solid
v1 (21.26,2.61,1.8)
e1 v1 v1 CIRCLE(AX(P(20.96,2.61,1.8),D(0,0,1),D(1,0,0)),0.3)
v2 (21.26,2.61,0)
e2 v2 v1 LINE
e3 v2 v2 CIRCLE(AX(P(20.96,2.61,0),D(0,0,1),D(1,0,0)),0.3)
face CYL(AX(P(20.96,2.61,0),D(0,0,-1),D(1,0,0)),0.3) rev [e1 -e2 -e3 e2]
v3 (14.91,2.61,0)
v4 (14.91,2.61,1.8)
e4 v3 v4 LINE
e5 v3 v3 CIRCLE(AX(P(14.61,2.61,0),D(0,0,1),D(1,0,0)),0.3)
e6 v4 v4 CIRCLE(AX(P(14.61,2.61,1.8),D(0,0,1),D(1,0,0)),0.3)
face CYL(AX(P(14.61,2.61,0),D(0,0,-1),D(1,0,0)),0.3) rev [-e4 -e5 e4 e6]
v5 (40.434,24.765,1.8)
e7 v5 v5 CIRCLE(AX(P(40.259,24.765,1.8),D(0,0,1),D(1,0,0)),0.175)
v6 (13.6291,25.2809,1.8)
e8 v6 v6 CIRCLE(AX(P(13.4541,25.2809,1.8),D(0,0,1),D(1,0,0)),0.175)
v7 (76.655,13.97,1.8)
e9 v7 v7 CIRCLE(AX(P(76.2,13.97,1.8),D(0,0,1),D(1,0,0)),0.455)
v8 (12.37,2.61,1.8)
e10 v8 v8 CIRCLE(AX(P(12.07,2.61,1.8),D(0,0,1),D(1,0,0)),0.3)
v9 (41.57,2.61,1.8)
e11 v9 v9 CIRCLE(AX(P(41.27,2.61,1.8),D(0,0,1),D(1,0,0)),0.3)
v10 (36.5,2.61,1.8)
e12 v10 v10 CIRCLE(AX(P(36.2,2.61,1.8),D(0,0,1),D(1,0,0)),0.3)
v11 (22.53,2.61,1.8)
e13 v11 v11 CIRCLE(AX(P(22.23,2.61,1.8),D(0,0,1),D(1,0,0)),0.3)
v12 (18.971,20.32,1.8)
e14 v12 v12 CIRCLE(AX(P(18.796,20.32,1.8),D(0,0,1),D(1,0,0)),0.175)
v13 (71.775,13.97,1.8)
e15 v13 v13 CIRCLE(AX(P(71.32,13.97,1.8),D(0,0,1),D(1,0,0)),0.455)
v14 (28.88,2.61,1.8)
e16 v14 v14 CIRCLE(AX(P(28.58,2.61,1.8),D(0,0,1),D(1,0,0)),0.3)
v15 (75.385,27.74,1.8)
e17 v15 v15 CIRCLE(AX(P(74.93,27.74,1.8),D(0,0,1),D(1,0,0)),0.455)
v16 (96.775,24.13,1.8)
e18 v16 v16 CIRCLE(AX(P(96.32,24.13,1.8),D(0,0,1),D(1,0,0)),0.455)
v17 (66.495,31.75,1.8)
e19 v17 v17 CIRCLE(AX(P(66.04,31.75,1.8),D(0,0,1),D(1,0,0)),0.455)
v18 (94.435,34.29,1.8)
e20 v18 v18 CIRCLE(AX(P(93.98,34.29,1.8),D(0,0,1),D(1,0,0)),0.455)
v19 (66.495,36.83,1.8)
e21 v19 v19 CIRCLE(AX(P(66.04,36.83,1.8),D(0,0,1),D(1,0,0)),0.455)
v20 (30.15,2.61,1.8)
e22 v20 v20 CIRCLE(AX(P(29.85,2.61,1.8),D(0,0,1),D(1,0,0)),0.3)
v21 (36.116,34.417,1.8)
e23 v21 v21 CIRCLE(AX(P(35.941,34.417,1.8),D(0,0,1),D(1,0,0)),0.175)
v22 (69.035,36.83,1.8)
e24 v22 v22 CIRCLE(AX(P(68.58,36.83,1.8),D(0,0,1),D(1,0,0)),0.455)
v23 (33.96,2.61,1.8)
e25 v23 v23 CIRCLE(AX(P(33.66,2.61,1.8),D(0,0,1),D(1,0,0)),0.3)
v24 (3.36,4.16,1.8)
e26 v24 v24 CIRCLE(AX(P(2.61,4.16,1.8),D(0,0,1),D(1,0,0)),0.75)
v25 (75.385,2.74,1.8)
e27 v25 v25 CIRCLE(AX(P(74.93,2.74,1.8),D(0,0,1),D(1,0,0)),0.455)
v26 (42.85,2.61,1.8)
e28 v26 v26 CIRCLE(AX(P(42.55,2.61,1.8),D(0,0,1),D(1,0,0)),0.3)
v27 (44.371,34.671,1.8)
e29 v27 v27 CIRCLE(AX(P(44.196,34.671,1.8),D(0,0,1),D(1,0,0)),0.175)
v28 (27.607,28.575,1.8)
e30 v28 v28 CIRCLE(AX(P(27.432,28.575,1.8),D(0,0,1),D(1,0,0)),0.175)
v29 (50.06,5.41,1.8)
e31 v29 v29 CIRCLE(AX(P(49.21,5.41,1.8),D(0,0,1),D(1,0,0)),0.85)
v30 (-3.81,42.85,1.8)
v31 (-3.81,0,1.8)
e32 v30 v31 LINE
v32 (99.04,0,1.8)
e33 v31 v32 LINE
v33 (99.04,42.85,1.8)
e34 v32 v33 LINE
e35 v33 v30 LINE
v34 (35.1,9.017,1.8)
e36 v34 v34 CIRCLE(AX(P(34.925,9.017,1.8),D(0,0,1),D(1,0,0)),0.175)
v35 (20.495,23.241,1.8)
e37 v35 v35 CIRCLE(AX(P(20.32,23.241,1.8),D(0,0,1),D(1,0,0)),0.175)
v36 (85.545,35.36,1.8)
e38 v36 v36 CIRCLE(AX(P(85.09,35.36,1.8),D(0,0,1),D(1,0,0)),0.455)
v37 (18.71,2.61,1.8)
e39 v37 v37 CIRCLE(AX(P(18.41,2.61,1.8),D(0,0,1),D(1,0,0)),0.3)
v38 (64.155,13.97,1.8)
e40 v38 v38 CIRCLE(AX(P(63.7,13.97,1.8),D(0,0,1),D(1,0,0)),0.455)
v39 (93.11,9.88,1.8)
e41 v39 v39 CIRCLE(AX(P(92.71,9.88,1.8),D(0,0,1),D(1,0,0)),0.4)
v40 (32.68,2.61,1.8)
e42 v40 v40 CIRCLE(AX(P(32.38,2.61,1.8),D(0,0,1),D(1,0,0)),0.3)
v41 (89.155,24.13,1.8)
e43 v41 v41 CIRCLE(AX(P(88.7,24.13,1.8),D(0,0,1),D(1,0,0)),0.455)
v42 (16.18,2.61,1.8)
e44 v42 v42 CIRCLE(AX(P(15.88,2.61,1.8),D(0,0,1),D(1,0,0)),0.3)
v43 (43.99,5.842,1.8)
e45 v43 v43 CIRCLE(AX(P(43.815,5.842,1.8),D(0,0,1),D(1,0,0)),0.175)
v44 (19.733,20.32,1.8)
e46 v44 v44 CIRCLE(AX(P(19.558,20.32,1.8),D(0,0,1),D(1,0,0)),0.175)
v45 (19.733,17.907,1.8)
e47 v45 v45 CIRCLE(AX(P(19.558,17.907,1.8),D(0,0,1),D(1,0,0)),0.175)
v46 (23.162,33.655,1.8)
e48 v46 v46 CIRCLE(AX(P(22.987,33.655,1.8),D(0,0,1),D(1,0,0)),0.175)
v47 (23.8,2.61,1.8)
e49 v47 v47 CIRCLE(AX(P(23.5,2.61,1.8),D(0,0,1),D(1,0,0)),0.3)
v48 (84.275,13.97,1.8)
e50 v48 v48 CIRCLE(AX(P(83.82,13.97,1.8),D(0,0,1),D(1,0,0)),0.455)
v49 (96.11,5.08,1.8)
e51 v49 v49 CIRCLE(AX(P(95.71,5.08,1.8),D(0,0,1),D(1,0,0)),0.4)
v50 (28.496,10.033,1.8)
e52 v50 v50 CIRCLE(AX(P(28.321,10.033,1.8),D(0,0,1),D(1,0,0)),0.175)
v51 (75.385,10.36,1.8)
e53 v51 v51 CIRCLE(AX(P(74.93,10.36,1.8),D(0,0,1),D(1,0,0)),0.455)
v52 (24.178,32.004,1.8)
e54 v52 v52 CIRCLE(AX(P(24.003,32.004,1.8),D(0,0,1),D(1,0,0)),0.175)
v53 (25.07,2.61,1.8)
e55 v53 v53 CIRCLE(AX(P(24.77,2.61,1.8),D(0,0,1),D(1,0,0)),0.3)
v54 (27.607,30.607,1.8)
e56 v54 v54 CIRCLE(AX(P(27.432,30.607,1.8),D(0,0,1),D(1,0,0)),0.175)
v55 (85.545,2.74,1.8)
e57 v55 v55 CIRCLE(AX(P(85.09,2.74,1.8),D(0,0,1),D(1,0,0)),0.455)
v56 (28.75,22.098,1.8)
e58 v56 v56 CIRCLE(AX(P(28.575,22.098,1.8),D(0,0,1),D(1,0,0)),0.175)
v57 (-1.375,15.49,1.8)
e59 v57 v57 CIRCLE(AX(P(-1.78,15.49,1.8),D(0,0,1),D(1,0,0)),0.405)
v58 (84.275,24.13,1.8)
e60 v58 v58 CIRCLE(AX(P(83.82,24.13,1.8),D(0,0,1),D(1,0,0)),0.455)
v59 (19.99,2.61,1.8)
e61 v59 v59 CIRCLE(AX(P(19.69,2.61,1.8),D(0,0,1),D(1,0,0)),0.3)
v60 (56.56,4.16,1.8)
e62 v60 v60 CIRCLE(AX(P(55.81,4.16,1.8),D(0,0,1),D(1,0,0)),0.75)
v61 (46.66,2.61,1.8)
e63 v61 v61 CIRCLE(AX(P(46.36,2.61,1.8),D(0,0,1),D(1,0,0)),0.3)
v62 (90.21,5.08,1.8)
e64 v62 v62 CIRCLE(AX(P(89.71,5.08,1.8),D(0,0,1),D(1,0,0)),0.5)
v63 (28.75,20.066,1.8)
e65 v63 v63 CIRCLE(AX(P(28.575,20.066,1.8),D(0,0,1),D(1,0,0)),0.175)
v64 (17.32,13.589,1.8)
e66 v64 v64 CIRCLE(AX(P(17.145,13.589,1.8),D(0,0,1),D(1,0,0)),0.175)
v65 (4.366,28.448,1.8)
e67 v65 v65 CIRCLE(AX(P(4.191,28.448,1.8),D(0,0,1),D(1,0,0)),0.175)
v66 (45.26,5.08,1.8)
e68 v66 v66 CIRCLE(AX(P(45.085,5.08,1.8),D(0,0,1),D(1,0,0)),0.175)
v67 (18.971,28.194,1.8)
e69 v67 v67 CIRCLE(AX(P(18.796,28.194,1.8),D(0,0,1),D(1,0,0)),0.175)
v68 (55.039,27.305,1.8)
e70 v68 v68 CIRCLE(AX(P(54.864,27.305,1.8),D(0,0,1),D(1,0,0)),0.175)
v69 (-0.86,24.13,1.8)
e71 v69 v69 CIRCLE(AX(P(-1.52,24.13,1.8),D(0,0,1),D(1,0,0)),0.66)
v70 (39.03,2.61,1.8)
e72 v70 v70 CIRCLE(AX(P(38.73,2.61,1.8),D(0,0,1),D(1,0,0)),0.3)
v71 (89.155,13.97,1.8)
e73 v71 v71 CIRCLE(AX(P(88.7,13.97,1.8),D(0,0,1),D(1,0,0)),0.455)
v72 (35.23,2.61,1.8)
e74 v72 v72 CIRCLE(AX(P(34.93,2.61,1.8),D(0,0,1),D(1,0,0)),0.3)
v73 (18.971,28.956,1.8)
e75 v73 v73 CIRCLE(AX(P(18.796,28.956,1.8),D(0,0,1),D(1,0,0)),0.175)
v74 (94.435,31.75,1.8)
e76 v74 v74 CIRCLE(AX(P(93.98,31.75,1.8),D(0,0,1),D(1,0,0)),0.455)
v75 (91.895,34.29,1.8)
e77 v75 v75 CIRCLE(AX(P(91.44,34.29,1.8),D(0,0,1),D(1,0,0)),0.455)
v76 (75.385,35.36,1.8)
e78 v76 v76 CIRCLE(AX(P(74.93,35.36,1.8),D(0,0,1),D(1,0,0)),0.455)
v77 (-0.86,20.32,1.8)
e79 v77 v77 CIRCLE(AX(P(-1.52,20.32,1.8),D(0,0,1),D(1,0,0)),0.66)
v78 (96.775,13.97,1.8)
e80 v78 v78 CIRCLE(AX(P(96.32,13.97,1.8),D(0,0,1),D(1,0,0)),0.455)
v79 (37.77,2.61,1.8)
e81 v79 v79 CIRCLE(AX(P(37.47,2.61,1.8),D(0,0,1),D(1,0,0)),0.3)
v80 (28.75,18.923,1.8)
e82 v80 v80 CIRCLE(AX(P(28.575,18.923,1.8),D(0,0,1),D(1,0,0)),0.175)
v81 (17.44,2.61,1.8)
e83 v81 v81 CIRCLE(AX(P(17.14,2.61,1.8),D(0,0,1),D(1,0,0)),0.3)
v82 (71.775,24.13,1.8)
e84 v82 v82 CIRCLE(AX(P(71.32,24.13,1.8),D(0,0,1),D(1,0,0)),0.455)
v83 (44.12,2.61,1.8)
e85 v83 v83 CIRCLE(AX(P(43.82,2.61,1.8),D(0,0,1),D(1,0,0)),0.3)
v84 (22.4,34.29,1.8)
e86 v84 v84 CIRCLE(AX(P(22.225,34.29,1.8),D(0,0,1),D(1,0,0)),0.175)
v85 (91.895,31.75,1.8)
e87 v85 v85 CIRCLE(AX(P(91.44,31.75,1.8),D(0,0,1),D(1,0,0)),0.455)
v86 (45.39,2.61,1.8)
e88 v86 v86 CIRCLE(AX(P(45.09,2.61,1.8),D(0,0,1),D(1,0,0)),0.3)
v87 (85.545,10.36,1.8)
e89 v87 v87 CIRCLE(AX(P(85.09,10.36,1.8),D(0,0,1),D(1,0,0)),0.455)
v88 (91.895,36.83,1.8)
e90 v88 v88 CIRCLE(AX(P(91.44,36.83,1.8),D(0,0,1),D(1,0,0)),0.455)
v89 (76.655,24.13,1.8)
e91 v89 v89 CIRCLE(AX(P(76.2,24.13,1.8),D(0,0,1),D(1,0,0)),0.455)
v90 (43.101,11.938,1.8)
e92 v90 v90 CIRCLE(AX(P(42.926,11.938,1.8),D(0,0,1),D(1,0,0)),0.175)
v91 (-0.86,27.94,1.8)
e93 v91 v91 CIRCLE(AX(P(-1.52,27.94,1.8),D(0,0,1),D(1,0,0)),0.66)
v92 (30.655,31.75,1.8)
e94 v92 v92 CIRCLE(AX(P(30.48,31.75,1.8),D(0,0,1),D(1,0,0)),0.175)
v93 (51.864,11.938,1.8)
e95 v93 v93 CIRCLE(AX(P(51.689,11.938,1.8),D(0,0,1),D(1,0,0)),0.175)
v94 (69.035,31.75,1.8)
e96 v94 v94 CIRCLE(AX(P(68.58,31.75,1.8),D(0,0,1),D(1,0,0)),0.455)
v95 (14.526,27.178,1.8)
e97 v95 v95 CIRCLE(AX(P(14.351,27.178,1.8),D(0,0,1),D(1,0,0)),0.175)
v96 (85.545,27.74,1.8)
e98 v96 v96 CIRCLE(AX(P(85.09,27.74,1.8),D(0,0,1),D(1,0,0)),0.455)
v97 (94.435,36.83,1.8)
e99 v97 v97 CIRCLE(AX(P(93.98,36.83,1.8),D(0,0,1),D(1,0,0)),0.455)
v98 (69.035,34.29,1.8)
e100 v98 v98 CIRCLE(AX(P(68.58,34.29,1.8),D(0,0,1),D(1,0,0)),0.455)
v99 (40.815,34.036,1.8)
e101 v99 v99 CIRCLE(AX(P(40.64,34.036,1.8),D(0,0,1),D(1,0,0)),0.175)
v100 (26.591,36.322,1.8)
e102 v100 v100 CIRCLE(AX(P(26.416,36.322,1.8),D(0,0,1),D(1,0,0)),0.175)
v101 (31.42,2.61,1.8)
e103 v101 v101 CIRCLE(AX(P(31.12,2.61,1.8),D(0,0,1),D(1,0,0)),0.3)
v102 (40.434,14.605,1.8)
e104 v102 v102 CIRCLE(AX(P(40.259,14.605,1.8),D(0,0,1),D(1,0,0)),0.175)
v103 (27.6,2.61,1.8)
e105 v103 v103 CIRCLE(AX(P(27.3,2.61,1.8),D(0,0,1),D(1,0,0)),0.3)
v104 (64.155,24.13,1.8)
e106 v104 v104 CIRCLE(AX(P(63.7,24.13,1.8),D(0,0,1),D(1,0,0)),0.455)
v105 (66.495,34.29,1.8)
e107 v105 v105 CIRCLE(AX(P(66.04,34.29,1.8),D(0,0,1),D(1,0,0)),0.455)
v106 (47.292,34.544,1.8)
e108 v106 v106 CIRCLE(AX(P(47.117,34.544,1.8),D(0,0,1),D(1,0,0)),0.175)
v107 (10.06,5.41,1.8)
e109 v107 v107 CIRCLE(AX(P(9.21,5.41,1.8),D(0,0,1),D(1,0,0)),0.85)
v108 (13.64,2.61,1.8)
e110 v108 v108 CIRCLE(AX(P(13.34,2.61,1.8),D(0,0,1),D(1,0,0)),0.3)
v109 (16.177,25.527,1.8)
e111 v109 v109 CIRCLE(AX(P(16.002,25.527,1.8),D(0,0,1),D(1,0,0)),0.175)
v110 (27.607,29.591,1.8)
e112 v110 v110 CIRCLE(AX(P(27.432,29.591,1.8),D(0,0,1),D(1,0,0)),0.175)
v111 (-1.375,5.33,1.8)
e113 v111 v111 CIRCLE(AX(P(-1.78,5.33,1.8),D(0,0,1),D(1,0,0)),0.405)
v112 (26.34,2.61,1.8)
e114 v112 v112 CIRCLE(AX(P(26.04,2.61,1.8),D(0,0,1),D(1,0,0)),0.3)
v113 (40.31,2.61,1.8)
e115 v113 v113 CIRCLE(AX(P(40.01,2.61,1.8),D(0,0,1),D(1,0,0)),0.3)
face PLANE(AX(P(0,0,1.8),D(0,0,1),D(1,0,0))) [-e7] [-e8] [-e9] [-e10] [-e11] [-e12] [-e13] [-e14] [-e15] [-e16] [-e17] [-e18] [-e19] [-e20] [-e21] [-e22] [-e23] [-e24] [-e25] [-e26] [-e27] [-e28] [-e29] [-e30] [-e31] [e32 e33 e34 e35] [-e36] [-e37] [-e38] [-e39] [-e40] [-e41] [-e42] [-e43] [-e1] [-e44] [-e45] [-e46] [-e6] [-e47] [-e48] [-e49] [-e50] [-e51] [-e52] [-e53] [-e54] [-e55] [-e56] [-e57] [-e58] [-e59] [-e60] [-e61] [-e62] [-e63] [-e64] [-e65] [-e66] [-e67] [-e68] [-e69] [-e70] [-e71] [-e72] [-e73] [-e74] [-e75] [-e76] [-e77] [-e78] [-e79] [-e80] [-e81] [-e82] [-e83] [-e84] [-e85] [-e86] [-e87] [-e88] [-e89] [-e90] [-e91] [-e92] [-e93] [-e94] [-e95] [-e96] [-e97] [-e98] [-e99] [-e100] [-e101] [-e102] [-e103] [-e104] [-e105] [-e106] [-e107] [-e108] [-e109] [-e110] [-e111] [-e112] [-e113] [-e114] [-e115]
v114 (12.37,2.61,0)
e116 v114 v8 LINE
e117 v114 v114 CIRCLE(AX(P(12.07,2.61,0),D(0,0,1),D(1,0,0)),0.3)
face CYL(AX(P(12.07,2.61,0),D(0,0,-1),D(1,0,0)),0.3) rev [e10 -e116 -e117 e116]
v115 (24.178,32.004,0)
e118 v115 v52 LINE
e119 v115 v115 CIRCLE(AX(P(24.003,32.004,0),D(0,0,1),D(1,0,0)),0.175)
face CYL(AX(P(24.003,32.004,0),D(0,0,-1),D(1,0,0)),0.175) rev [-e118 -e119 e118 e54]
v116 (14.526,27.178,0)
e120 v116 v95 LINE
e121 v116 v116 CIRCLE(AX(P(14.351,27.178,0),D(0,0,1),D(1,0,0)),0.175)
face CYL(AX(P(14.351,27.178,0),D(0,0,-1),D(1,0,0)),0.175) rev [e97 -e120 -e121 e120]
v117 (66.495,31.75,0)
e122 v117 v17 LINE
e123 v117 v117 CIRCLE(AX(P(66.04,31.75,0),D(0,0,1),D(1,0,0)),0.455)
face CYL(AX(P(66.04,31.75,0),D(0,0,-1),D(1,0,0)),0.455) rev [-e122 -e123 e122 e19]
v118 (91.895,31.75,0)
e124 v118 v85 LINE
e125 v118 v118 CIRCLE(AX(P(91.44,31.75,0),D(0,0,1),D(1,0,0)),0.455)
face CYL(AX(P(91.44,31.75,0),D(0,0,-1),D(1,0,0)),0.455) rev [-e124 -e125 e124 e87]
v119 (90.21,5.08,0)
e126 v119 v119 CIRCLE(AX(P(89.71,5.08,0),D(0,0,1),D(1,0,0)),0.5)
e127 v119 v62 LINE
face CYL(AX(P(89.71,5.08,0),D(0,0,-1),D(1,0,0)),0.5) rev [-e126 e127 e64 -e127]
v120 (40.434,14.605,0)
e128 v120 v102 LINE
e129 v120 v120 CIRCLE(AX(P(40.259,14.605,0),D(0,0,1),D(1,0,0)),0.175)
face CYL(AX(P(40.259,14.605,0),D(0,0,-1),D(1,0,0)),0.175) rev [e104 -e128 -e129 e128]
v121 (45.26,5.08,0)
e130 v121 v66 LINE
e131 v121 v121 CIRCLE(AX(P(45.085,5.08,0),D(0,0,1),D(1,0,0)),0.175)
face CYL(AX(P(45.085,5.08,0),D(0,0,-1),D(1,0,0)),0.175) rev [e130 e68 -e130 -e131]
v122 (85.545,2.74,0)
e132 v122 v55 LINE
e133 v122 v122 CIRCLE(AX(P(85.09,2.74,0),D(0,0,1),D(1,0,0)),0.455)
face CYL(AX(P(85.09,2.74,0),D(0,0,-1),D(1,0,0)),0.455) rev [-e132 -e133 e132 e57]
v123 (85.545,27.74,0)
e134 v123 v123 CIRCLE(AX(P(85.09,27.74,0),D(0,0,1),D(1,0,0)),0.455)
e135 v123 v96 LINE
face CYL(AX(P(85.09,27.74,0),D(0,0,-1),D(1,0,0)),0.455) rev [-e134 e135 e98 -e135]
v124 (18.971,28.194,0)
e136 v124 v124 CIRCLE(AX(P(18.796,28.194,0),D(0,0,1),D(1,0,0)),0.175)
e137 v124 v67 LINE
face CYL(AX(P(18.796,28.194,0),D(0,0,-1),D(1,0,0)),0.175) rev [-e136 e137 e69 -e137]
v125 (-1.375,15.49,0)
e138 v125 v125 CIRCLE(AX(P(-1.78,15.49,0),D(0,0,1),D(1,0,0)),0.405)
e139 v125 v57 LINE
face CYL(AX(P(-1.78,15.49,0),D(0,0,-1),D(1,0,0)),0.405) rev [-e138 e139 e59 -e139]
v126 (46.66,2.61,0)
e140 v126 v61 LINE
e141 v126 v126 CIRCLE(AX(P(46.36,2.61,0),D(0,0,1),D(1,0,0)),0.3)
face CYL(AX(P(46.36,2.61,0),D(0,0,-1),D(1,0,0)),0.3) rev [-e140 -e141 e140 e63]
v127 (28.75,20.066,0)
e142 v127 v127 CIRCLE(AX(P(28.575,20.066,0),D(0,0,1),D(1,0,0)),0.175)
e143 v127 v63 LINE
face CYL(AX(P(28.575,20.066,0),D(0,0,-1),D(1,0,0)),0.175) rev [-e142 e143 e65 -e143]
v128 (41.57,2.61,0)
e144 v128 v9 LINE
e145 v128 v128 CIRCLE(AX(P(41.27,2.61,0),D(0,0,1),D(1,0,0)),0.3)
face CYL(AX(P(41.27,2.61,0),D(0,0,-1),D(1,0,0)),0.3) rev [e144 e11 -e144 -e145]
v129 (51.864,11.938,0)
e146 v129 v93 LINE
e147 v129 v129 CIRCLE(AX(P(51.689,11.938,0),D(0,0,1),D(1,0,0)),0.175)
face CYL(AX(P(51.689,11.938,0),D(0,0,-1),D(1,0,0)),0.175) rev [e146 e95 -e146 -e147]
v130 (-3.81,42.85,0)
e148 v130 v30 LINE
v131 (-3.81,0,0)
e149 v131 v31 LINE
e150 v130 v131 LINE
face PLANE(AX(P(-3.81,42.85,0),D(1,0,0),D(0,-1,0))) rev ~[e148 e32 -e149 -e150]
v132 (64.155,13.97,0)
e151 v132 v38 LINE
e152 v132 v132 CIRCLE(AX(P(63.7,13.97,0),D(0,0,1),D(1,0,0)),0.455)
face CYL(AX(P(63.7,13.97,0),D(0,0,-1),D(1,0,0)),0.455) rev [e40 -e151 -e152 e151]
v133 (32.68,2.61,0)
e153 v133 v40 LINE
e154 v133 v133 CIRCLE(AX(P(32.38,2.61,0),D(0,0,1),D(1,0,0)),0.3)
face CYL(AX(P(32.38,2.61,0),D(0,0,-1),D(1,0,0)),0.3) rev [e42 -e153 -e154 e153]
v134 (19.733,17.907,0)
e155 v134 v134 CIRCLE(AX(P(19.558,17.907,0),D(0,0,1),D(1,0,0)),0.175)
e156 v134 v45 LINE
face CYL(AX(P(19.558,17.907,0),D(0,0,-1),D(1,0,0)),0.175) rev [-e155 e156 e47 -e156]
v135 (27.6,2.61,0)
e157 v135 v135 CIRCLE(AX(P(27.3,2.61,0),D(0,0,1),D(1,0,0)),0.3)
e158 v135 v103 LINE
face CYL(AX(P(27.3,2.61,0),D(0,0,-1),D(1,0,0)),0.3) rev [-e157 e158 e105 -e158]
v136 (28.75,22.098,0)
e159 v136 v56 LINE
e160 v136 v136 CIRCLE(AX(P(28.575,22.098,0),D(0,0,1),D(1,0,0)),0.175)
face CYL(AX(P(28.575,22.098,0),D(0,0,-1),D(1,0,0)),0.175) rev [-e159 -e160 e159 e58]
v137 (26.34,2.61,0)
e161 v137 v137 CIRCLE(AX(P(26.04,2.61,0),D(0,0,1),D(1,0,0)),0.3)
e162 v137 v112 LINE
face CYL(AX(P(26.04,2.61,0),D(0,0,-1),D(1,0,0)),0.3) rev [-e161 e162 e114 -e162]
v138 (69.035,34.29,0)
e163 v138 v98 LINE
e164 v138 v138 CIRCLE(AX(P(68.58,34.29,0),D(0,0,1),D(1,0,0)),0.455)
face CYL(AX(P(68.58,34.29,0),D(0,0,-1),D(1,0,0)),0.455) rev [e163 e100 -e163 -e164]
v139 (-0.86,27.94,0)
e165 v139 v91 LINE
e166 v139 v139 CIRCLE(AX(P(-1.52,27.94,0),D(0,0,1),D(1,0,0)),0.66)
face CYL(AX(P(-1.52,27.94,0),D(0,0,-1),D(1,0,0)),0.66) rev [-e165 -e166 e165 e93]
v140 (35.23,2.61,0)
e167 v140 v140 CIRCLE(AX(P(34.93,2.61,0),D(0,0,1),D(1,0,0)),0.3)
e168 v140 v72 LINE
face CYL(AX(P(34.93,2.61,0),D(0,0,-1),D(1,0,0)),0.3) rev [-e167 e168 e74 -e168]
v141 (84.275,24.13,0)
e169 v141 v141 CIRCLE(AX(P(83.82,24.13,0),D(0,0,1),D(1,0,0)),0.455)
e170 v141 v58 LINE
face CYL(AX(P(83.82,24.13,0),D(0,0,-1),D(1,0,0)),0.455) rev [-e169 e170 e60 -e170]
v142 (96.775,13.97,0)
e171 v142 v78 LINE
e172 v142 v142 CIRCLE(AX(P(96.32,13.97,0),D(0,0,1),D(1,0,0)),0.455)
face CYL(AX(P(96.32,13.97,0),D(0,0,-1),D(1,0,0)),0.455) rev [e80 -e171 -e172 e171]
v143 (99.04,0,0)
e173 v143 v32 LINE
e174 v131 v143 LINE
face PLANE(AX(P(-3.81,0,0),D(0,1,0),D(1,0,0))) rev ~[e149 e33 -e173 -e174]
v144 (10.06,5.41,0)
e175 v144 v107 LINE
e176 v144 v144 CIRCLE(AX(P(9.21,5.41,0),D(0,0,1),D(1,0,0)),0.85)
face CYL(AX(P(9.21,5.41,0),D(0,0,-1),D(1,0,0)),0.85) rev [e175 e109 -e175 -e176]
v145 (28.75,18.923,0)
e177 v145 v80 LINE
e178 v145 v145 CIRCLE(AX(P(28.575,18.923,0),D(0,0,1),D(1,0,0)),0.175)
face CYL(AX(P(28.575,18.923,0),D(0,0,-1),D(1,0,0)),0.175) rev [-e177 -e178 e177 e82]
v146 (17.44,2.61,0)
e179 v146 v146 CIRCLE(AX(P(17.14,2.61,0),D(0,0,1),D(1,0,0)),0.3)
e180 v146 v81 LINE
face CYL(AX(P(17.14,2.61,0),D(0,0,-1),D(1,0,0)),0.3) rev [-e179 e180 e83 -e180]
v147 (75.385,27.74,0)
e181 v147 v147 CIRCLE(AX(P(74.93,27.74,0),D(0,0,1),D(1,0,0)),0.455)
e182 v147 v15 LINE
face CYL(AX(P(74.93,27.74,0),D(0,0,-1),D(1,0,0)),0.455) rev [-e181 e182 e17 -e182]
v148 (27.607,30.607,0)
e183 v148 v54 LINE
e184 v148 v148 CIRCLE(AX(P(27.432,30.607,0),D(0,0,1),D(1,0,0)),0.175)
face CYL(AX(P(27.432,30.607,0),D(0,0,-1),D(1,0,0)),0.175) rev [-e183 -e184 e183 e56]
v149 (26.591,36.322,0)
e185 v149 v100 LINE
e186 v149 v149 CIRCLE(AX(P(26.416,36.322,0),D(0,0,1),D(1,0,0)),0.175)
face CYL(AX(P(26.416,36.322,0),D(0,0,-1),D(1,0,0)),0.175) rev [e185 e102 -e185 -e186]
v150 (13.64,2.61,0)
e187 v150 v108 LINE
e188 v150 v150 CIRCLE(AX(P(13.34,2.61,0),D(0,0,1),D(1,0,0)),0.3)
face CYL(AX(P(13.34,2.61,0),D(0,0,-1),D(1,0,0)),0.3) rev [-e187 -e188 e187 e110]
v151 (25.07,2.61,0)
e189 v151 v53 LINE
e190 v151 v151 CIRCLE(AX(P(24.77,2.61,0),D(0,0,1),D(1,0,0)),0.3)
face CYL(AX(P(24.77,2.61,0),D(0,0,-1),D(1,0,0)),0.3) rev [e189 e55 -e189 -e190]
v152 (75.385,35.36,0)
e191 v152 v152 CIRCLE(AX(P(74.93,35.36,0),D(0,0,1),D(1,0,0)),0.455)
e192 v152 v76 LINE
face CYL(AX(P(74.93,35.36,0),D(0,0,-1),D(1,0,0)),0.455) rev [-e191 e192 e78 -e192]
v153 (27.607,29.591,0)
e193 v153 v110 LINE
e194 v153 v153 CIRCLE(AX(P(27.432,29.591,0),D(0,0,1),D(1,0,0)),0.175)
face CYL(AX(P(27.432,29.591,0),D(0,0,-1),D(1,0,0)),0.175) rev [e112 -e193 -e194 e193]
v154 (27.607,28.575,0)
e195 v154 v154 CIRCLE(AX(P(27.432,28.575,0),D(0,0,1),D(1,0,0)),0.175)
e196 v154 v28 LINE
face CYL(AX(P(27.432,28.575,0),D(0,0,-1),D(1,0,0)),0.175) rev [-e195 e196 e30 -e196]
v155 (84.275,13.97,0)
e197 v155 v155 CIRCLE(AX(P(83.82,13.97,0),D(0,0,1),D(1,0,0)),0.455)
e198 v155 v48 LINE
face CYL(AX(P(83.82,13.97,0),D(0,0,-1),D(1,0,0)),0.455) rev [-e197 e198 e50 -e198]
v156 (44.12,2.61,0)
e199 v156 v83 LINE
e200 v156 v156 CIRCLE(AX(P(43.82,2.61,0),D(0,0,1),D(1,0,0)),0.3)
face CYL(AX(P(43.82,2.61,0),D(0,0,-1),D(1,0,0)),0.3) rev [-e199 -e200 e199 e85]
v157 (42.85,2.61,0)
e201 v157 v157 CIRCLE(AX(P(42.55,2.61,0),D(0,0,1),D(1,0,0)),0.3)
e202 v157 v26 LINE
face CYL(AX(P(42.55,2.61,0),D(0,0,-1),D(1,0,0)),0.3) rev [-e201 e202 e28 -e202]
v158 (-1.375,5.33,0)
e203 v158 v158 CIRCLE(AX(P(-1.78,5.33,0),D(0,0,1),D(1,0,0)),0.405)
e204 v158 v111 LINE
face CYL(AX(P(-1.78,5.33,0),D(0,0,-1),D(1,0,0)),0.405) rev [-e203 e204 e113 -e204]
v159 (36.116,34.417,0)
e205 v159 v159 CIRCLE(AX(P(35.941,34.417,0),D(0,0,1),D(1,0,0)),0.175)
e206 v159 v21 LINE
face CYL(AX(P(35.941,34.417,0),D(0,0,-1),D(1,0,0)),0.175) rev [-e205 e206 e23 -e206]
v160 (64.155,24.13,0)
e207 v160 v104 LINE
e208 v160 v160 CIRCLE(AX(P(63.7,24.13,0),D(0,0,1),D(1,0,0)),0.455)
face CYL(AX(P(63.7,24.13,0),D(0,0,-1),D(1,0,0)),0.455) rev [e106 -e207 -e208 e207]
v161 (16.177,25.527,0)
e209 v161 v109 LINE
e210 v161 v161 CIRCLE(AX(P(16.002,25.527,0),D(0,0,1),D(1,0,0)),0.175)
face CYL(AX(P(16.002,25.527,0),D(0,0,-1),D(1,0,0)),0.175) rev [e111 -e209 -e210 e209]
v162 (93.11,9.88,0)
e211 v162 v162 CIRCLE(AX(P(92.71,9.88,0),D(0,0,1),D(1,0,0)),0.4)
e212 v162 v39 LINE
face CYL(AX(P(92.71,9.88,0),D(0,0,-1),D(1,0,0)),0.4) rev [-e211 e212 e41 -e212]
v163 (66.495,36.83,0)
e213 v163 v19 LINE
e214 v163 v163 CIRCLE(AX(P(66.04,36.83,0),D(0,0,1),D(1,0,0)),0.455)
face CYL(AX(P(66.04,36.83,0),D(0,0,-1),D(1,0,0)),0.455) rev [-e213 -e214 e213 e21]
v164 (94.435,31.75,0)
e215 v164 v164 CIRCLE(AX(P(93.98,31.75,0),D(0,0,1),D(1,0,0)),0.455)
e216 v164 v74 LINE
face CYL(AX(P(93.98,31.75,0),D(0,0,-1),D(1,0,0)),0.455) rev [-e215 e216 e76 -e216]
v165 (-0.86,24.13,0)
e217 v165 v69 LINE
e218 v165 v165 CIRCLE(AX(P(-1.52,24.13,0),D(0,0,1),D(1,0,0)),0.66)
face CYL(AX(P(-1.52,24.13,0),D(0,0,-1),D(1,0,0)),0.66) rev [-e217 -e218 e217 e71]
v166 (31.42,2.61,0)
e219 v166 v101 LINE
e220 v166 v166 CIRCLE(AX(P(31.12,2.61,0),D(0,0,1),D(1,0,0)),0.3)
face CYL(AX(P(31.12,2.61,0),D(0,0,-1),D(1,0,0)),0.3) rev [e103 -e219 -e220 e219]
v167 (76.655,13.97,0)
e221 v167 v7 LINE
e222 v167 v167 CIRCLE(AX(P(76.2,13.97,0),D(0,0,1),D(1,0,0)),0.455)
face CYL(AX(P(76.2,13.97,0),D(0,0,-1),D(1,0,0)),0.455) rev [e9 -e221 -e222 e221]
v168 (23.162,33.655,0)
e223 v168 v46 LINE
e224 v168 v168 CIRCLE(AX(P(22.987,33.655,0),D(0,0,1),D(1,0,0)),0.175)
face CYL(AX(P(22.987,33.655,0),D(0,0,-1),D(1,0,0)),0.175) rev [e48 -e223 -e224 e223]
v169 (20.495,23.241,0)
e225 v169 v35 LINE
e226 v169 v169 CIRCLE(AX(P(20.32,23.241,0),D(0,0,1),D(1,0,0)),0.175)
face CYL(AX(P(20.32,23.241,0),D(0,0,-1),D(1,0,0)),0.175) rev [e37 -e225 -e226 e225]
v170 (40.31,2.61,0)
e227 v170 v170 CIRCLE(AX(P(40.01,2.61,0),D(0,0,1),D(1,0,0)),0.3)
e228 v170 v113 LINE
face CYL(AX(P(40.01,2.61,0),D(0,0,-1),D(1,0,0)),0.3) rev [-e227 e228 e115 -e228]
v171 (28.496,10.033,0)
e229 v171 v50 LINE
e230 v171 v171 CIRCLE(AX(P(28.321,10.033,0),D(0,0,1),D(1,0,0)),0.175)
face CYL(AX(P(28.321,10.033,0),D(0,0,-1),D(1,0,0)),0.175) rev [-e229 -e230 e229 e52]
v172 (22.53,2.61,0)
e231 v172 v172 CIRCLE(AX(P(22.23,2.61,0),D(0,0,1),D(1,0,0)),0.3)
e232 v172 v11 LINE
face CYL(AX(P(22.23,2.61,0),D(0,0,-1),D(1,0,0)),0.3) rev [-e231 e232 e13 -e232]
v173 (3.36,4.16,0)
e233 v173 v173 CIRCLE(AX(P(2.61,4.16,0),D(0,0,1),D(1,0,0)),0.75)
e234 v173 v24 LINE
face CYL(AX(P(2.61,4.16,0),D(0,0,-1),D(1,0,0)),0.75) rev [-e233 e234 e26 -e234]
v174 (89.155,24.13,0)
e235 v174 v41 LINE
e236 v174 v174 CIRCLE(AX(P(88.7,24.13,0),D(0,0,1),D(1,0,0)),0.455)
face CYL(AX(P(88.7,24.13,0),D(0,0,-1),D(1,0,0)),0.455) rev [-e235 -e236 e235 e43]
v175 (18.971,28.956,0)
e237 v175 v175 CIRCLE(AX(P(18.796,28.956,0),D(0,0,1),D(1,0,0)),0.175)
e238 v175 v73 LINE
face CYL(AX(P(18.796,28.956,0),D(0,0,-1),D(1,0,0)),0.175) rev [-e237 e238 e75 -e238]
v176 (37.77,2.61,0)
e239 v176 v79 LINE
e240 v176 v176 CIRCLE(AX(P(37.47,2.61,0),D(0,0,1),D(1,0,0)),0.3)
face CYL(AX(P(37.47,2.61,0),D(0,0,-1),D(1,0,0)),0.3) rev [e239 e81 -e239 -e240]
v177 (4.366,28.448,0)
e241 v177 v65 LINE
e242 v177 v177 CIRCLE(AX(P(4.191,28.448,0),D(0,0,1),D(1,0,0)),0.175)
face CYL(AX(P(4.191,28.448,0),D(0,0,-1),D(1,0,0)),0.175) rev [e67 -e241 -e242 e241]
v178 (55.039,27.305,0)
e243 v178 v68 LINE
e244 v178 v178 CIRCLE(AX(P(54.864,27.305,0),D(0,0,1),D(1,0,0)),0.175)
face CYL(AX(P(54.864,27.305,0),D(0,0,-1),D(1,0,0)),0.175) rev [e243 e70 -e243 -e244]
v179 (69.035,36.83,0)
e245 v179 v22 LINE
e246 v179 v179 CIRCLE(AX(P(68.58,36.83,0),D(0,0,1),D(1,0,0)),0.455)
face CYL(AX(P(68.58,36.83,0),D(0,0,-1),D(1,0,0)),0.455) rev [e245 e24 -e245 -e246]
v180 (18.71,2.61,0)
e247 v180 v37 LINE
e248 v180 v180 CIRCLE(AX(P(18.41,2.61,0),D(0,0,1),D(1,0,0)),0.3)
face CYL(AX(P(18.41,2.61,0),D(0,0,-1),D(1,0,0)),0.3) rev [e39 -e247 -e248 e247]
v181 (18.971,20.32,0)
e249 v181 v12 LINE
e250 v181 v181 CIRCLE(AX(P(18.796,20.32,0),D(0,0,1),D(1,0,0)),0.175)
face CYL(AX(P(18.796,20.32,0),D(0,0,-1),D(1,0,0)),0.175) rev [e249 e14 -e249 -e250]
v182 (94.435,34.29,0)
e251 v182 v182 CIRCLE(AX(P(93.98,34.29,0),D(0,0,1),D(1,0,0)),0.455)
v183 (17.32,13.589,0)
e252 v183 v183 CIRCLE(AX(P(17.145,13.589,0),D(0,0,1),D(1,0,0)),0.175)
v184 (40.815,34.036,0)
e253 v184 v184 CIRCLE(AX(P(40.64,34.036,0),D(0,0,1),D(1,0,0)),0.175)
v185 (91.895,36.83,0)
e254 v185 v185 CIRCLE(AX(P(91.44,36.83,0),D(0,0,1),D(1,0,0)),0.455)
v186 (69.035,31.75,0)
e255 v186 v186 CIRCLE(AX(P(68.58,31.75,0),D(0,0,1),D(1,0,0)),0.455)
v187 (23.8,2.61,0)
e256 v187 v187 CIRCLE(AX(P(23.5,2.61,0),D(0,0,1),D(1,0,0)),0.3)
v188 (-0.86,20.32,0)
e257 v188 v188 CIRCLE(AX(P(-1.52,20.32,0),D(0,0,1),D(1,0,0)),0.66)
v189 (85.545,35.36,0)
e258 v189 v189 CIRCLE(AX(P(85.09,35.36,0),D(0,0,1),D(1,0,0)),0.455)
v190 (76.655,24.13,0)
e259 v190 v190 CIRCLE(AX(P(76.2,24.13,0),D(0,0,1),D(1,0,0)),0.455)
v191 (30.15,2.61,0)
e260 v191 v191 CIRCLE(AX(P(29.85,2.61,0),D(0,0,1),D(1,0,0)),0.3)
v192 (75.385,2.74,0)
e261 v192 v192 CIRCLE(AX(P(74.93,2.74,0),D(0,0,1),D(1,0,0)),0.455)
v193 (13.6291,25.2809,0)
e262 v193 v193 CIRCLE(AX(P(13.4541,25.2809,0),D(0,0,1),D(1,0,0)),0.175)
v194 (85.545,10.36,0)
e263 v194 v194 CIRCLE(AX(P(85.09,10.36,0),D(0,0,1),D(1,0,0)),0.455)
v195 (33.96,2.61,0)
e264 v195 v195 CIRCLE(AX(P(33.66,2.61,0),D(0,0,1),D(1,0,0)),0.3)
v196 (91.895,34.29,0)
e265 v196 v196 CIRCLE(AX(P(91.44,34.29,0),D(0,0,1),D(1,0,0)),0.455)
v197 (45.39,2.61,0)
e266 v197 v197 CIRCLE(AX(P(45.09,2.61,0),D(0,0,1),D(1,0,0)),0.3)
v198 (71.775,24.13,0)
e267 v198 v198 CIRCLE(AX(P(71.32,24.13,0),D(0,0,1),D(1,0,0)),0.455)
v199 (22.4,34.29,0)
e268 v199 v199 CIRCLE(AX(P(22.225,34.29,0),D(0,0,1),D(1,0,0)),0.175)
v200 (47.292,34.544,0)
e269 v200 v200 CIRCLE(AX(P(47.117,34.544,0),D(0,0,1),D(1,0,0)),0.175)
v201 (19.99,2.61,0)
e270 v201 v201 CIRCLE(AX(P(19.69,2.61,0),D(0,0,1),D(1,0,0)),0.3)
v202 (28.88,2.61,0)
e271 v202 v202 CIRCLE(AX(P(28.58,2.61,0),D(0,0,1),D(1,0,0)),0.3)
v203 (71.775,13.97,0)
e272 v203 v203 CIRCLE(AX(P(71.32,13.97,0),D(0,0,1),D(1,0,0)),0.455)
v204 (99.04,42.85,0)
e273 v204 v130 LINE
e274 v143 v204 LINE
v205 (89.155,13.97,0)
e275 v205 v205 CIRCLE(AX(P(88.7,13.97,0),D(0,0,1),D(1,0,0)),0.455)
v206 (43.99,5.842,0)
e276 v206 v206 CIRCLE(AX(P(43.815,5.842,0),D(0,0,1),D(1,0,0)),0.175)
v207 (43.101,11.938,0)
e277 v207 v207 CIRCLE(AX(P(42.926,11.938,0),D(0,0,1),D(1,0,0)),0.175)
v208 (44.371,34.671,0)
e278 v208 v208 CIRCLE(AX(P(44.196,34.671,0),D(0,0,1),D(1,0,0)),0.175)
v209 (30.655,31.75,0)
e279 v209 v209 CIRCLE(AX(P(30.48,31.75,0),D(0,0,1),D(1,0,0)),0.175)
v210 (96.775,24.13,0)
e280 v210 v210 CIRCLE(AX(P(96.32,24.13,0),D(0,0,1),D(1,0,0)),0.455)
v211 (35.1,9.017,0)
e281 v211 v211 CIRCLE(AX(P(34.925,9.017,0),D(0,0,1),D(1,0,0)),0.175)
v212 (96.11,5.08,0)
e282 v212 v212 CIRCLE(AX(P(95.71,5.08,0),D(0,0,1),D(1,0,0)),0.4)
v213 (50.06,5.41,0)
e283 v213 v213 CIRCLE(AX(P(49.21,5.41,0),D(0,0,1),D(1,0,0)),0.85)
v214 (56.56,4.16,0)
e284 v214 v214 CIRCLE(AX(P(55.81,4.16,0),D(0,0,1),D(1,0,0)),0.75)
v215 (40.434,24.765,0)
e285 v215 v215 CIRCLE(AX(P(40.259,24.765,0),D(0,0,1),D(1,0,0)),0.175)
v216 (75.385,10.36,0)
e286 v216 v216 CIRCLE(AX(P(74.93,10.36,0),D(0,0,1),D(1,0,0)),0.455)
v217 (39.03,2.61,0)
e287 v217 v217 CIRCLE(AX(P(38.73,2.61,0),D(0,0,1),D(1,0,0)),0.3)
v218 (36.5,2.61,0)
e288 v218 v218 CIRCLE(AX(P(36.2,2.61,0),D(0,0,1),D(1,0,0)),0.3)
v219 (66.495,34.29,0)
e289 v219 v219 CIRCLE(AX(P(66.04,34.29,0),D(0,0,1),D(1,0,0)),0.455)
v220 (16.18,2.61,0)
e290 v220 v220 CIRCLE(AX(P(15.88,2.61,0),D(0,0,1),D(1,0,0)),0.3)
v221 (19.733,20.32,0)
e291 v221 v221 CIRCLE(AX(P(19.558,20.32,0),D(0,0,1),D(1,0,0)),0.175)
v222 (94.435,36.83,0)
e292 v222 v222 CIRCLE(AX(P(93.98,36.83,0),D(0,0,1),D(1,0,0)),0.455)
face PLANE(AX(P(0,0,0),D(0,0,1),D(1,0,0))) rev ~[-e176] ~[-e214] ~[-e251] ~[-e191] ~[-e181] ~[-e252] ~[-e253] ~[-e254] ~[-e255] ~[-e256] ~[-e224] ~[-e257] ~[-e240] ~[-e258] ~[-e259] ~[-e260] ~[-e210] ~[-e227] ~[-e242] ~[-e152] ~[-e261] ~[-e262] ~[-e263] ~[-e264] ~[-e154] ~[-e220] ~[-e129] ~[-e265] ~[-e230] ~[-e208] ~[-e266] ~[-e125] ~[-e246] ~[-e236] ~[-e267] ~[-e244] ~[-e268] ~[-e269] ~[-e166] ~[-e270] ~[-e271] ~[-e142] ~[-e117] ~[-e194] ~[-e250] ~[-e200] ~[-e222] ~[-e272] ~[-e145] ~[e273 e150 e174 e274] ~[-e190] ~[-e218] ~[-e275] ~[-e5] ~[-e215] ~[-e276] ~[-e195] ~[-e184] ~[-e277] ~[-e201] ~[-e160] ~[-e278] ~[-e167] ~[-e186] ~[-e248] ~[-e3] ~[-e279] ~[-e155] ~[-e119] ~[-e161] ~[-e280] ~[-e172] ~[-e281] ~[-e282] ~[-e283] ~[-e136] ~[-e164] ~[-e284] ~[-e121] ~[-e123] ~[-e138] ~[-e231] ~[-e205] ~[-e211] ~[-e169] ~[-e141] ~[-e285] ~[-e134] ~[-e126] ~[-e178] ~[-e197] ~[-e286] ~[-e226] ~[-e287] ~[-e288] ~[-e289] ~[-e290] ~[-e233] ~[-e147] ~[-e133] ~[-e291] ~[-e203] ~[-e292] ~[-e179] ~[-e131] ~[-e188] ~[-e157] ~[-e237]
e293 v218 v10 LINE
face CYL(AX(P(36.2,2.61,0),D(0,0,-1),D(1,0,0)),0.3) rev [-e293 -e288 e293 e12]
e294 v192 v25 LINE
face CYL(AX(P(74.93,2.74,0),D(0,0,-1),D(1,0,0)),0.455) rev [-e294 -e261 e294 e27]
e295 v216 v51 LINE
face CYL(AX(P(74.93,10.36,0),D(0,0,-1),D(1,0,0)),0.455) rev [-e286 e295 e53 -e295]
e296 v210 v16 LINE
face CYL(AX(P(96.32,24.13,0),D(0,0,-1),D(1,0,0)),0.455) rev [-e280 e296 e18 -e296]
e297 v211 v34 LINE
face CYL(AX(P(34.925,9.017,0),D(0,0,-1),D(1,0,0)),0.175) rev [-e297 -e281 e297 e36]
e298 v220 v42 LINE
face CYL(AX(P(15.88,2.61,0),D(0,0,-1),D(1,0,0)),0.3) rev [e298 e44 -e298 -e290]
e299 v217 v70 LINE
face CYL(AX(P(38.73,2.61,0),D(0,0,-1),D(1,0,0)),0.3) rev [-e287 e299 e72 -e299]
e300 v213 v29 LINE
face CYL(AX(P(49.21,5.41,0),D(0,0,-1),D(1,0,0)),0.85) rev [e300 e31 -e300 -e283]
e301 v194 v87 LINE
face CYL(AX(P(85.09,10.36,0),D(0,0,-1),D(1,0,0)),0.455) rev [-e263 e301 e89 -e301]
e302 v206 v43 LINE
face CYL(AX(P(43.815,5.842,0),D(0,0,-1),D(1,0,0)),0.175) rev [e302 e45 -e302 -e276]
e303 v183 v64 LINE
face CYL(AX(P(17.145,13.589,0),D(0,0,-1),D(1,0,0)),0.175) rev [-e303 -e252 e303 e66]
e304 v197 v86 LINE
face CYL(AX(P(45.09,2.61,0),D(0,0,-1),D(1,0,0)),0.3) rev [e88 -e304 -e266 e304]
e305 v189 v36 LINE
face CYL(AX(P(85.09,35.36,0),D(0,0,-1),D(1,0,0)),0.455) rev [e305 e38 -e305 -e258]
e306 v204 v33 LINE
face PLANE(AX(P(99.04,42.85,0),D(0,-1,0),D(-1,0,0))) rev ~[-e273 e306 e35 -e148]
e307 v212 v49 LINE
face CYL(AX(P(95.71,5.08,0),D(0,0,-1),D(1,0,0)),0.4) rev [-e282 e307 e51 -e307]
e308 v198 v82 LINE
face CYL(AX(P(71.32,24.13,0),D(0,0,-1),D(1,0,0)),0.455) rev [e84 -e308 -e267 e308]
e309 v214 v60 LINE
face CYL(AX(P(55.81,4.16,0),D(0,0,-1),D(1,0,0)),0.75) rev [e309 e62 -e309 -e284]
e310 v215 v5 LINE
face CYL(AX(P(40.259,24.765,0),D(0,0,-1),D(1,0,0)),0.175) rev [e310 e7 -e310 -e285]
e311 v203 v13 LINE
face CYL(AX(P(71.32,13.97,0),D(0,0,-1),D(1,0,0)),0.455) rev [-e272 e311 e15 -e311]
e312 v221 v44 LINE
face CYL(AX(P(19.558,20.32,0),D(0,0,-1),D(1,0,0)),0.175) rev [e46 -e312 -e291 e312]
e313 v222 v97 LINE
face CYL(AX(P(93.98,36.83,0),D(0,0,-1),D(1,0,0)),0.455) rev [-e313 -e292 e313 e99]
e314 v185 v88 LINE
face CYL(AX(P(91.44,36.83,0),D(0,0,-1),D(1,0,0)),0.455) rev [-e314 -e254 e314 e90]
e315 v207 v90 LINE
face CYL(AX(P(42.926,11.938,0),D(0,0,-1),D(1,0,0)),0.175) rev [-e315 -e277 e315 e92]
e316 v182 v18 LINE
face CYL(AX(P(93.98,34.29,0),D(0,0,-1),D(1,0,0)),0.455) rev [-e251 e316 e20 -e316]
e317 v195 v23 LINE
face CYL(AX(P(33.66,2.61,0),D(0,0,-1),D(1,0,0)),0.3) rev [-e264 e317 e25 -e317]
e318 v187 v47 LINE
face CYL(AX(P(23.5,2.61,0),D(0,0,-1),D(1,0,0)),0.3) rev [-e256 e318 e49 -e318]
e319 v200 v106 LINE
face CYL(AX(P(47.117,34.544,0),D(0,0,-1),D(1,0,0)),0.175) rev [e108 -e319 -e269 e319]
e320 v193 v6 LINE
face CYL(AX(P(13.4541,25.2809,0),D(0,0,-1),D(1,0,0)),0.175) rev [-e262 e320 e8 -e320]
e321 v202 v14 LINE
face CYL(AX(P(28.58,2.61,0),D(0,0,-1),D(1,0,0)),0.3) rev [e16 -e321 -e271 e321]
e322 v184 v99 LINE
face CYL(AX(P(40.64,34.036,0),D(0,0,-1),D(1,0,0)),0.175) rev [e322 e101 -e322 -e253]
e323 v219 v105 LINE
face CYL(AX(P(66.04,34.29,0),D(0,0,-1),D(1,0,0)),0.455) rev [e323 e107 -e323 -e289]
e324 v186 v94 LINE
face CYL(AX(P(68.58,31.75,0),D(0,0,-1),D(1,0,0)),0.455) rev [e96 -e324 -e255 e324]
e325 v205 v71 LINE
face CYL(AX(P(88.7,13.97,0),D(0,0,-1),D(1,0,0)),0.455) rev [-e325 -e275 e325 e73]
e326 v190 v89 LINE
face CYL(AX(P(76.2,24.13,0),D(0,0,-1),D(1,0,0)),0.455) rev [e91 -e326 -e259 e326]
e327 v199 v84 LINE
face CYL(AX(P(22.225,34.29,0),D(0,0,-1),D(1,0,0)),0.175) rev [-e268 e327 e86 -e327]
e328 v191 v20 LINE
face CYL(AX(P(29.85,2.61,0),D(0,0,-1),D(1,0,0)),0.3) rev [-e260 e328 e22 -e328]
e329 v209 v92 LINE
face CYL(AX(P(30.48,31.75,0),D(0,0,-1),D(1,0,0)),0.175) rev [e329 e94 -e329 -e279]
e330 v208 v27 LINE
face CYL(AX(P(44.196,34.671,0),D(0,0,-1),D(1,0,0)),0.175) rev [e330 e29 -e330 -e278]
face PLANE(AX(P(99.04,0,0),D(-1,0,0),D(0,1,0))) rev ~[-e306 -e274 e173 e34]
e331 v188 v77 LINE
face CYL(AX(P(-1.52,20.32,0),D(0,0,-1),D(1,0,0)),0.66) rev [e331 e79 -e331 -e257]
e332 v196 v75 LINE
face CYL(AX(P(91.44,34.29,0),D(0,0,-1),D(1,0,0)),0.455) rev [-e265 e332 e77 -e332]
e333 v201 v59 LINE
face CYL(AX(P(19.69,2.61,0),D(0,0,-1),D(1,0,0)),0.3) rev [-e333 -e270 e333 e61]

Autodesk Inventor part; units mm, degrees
ref_plane "YZ Plane" through (0, 0, 0) normal (1, 0, 0) x (0, 1, 0)
ref_plane "XZ Plane" through (0, 0, 0) normal (0, 1, 0) x (-1, 0, 0)
ref_plane "XY Plane" through (0, 0, 0) normal (0, 0, 1) x (1, 0, 0)
sketch "Skizze1" plane through (0, 0, 0) normal (0, 0, 1) x (1, 0, 0)
  line L0 (-3.81, 0) -> (99.04, 0)
  line L1 (99.04, 0) -> (99.04, 42.85)
  line L2 (99.04, 42.85) -> (-3.81, 42.85)
  line L3 (-3.81, 42.85) -> (-3.81, 0)
  circle A0 centre (-1.52, 27.94) radius 0.66
  circle A1 centre (93.98, 36.83) radius 0.455
  circle A2 centre (91.44, 36.83) radius 0.455
  circle A3 centre (93.98, 34.29) radius 0.455
  circle A4 centre (91.44, 34.29) radius 0.455
  circle A5 centre (93.98, 31.75) radius 0.455
  circle A6 centre (91.44, 31.75) radius 0.455
  circle A7 centre (68.58, 36.83) radius 0.455
  circle A8 centre (66.04, 36.83) radius 0.455
  circle A9 centre (68.58, 34.29) radius 0.455
  circle A10 centre (66.04, 34.29) radius 0.455
  circle A11 centre (68.58, 31.75) radius 0.455
  circle A12 centre (66.04, 31.75) radius 0.455
  circle A13 centre (95.71, 5.08) radius 0.4
  circle A14 centre (92.71, 9.88) radius 0.4
  circle A15 centre (89.71, 5.08) radius 0.5
  circle A16 centre (-1.78, 15.49) radius 0.405
  circle A17 centre (-1.78, 5.33) radius 0.405
  circle A18 centre (-1.52, 24.13) radius 0.66
  circle A19 centre (76.2, 24.13) radius 0.455
  circle A20 centre (76.2, 13.97) radius 0.455
  circle A21 centre (83.82, 24.13) radius 0.455
  circle A22 centre (83.82, 13.97) radius 0.455
  circle A23 centre (63.7, 24.13) radius 0.455
  circle A24 centre (63.7, 13.97) radius 0.455
  circle A25 centre (71.32, 24.13) radius 0.455
  circle A26 centre (71.32, 13.97) radius 0.455
  circle A27 centre (88.7, 24.13) radius 0.455
  circle A28 centre (88.7, 13.97) radius 0.455
  circle A29 centre (96.32, 24.13) radius 0.455
  circle A30 centre (96.32, 13.97) radius 0.455
  circle A31 centre (85.09, 35.36) radius 0.455
  circle A32 centre (74.93, 35.36) radius 0.455
  circle A33 centre (85.09, 27.74) radius 0.455
  circle A34 centre (74.93, 27.74) radius 0.455
  circle A35 centre (85.09, 10.36) radius 0.455
  circle A36 centre (74.93, 10.36) radius 0.455
  circle A37 centre (85.09, 2.74) radius 0.455
  circle A38 centre (74.93, 2.74) radius 0.455
  circle A39 centre (-1.52, 20.32) radius 0.66
  circle A40 centre (41.27, 2.61) radius 0.3
  circle A41 centre (45.09, 2.61) radius 0.3
  circle A42 centre (42.55, 2.61) radius 0.3
  circle A43 centre (9.21, 5.41) radius 0.85
  circle A44 centre (43.82, 2.61) radius 0.3
  circle A45 centre (13.34, 2.61) radius 0.3
  circle A46 centre (23.5, 2.61) radius 0.3
  circle A47 centre (24.77, 2.61) radius 0.3
  circle A48 centre (22.23, 2.61) radius 0.3
  circle A49 centre (20.96, 2.61) radius 0.3
  circle A50 centre (26.04, 2.61) radius 0.3
  circle A51 centre (46.36, 2.61) radius 0.3
  circle A52 centre (40.01, 2.61) radius 0.3
  circle A53 centre (38.73, 2.61) radius 0.3
  circle A54 centre (37.47, 2.61) radius 0.3
  circle A55 centre (36.2, 2.61) radius 0.3
  circle A56 centre (34.93, 2.61) radius 0.3
  circle A57 centre (33.66, 2.61) radius 0.3
  circle A58 centre (32.38, 2.61) radius 0.3
  circle A59 centre (31.12, 2.61) radius 0.3
  circle A60 centre (49.21, 5.41) radius 0.85
  circle A61 centre (12.07, 2.61) radius 0.3
  circle A62 centre (14.61, 2.61) radius 0.3
  circle A63 centre (15.88, 2.61) radius 0.3
  circle A64 centre (17.14, 2.61) radius 0.3
  circle A65 centre (18.41, 2.61) radius 0.3
  circle A66 centre (19.69, 2.61) radius 0.3
  circle A67 centre (29.85, 2.61) radius 0.3
  circle A68 centre (27.3, 2.61) radius 0.3
  circle A69 centre (28.58, 2.61) radius 0.3
  circle A70 centre (2.61, 4.16) radius 0.75
  circle A71 centre (55.81, 4.16) radius 0.75
  circle A72 centre (24.003, 32.004) radius 0.175
  circle A73 centre (34.925, 9.017) radius 0.175
  circle A74 centre (16.002, 25.527) radius 0.175
  circle A75 centre (14.351, 27.178) radius 0.175
  circle A76 centre (40.64, 34.036) radius 0.175
  circle A77 centre (26.416, 36.322) radius 0.175
  circle A78 centre (4.191, 28.448) radius 0.175
  circle A79 centre (43.815, 5.842) radius 0.175
  circle A80 centre (28.321, 10.033) radius 0.175
  circle A81 centre (17.145, 13.589) radius 0.175
  circle A82 centre (40.259, 24.765) radius 0.175
  circle A83 centre (40.259, 14.605) radius 0.175
  circle A84 centre (51.689, 11.938) radius 0.175
  circle A85 centre (30.48, 31.75) radius 0.175
  circle A86 centre (47.117, 34.544) radius 0.175
  circle A87 centre (44.196, 34.671) radius 0.175
  circle A88 centre (35.941, 34.417) radius 0.175
  circle A89 centre (13.4541, 25.2809) radius 0.175
  circle A90 centre (42.926, 11.938) radius 0.175
  circle A91 centre (22.225, 34.29) radius 0.175
  circle A92 centre (18.796, 20.32) radius 0.175
  circle A93 centre (22.987, 33.655) radius 0.175
  circle A94 centre (19.558, 20.32) radius 0.175
  circle A95 centre (19.558, 17.907) radius 0.175
  circle A96 centre (45.085, 5.08) radius 0.175
  circle A97 centre (18.796, 28.956) radius 0.175
  circle A98 centre (27.432, 30.607) radius 0.175
  circle A99 centre (27.432, 29.591) radius 0.175
  circle A100 centre (27.432, 28.575) radius 0.175
  circle A101 centre (54.864, 27.305) radius 0.175
  circle A102 centre (28.575, 22.098) radius 0.175
  circle A103 centre (28.575, 20.066) radius 0.175
  circle A104 centre (28.575, 18.923) radius 0.175
  circle A105 centre (20.32, 23.241) radius 0.175
  circle A106 centre (18.796, 28.194) radius 0.175
extrude "Display.brd_Kontur" add sketch "Skizze1" along normal blind 1.8
properties part number "Display.brd_Kontur"
